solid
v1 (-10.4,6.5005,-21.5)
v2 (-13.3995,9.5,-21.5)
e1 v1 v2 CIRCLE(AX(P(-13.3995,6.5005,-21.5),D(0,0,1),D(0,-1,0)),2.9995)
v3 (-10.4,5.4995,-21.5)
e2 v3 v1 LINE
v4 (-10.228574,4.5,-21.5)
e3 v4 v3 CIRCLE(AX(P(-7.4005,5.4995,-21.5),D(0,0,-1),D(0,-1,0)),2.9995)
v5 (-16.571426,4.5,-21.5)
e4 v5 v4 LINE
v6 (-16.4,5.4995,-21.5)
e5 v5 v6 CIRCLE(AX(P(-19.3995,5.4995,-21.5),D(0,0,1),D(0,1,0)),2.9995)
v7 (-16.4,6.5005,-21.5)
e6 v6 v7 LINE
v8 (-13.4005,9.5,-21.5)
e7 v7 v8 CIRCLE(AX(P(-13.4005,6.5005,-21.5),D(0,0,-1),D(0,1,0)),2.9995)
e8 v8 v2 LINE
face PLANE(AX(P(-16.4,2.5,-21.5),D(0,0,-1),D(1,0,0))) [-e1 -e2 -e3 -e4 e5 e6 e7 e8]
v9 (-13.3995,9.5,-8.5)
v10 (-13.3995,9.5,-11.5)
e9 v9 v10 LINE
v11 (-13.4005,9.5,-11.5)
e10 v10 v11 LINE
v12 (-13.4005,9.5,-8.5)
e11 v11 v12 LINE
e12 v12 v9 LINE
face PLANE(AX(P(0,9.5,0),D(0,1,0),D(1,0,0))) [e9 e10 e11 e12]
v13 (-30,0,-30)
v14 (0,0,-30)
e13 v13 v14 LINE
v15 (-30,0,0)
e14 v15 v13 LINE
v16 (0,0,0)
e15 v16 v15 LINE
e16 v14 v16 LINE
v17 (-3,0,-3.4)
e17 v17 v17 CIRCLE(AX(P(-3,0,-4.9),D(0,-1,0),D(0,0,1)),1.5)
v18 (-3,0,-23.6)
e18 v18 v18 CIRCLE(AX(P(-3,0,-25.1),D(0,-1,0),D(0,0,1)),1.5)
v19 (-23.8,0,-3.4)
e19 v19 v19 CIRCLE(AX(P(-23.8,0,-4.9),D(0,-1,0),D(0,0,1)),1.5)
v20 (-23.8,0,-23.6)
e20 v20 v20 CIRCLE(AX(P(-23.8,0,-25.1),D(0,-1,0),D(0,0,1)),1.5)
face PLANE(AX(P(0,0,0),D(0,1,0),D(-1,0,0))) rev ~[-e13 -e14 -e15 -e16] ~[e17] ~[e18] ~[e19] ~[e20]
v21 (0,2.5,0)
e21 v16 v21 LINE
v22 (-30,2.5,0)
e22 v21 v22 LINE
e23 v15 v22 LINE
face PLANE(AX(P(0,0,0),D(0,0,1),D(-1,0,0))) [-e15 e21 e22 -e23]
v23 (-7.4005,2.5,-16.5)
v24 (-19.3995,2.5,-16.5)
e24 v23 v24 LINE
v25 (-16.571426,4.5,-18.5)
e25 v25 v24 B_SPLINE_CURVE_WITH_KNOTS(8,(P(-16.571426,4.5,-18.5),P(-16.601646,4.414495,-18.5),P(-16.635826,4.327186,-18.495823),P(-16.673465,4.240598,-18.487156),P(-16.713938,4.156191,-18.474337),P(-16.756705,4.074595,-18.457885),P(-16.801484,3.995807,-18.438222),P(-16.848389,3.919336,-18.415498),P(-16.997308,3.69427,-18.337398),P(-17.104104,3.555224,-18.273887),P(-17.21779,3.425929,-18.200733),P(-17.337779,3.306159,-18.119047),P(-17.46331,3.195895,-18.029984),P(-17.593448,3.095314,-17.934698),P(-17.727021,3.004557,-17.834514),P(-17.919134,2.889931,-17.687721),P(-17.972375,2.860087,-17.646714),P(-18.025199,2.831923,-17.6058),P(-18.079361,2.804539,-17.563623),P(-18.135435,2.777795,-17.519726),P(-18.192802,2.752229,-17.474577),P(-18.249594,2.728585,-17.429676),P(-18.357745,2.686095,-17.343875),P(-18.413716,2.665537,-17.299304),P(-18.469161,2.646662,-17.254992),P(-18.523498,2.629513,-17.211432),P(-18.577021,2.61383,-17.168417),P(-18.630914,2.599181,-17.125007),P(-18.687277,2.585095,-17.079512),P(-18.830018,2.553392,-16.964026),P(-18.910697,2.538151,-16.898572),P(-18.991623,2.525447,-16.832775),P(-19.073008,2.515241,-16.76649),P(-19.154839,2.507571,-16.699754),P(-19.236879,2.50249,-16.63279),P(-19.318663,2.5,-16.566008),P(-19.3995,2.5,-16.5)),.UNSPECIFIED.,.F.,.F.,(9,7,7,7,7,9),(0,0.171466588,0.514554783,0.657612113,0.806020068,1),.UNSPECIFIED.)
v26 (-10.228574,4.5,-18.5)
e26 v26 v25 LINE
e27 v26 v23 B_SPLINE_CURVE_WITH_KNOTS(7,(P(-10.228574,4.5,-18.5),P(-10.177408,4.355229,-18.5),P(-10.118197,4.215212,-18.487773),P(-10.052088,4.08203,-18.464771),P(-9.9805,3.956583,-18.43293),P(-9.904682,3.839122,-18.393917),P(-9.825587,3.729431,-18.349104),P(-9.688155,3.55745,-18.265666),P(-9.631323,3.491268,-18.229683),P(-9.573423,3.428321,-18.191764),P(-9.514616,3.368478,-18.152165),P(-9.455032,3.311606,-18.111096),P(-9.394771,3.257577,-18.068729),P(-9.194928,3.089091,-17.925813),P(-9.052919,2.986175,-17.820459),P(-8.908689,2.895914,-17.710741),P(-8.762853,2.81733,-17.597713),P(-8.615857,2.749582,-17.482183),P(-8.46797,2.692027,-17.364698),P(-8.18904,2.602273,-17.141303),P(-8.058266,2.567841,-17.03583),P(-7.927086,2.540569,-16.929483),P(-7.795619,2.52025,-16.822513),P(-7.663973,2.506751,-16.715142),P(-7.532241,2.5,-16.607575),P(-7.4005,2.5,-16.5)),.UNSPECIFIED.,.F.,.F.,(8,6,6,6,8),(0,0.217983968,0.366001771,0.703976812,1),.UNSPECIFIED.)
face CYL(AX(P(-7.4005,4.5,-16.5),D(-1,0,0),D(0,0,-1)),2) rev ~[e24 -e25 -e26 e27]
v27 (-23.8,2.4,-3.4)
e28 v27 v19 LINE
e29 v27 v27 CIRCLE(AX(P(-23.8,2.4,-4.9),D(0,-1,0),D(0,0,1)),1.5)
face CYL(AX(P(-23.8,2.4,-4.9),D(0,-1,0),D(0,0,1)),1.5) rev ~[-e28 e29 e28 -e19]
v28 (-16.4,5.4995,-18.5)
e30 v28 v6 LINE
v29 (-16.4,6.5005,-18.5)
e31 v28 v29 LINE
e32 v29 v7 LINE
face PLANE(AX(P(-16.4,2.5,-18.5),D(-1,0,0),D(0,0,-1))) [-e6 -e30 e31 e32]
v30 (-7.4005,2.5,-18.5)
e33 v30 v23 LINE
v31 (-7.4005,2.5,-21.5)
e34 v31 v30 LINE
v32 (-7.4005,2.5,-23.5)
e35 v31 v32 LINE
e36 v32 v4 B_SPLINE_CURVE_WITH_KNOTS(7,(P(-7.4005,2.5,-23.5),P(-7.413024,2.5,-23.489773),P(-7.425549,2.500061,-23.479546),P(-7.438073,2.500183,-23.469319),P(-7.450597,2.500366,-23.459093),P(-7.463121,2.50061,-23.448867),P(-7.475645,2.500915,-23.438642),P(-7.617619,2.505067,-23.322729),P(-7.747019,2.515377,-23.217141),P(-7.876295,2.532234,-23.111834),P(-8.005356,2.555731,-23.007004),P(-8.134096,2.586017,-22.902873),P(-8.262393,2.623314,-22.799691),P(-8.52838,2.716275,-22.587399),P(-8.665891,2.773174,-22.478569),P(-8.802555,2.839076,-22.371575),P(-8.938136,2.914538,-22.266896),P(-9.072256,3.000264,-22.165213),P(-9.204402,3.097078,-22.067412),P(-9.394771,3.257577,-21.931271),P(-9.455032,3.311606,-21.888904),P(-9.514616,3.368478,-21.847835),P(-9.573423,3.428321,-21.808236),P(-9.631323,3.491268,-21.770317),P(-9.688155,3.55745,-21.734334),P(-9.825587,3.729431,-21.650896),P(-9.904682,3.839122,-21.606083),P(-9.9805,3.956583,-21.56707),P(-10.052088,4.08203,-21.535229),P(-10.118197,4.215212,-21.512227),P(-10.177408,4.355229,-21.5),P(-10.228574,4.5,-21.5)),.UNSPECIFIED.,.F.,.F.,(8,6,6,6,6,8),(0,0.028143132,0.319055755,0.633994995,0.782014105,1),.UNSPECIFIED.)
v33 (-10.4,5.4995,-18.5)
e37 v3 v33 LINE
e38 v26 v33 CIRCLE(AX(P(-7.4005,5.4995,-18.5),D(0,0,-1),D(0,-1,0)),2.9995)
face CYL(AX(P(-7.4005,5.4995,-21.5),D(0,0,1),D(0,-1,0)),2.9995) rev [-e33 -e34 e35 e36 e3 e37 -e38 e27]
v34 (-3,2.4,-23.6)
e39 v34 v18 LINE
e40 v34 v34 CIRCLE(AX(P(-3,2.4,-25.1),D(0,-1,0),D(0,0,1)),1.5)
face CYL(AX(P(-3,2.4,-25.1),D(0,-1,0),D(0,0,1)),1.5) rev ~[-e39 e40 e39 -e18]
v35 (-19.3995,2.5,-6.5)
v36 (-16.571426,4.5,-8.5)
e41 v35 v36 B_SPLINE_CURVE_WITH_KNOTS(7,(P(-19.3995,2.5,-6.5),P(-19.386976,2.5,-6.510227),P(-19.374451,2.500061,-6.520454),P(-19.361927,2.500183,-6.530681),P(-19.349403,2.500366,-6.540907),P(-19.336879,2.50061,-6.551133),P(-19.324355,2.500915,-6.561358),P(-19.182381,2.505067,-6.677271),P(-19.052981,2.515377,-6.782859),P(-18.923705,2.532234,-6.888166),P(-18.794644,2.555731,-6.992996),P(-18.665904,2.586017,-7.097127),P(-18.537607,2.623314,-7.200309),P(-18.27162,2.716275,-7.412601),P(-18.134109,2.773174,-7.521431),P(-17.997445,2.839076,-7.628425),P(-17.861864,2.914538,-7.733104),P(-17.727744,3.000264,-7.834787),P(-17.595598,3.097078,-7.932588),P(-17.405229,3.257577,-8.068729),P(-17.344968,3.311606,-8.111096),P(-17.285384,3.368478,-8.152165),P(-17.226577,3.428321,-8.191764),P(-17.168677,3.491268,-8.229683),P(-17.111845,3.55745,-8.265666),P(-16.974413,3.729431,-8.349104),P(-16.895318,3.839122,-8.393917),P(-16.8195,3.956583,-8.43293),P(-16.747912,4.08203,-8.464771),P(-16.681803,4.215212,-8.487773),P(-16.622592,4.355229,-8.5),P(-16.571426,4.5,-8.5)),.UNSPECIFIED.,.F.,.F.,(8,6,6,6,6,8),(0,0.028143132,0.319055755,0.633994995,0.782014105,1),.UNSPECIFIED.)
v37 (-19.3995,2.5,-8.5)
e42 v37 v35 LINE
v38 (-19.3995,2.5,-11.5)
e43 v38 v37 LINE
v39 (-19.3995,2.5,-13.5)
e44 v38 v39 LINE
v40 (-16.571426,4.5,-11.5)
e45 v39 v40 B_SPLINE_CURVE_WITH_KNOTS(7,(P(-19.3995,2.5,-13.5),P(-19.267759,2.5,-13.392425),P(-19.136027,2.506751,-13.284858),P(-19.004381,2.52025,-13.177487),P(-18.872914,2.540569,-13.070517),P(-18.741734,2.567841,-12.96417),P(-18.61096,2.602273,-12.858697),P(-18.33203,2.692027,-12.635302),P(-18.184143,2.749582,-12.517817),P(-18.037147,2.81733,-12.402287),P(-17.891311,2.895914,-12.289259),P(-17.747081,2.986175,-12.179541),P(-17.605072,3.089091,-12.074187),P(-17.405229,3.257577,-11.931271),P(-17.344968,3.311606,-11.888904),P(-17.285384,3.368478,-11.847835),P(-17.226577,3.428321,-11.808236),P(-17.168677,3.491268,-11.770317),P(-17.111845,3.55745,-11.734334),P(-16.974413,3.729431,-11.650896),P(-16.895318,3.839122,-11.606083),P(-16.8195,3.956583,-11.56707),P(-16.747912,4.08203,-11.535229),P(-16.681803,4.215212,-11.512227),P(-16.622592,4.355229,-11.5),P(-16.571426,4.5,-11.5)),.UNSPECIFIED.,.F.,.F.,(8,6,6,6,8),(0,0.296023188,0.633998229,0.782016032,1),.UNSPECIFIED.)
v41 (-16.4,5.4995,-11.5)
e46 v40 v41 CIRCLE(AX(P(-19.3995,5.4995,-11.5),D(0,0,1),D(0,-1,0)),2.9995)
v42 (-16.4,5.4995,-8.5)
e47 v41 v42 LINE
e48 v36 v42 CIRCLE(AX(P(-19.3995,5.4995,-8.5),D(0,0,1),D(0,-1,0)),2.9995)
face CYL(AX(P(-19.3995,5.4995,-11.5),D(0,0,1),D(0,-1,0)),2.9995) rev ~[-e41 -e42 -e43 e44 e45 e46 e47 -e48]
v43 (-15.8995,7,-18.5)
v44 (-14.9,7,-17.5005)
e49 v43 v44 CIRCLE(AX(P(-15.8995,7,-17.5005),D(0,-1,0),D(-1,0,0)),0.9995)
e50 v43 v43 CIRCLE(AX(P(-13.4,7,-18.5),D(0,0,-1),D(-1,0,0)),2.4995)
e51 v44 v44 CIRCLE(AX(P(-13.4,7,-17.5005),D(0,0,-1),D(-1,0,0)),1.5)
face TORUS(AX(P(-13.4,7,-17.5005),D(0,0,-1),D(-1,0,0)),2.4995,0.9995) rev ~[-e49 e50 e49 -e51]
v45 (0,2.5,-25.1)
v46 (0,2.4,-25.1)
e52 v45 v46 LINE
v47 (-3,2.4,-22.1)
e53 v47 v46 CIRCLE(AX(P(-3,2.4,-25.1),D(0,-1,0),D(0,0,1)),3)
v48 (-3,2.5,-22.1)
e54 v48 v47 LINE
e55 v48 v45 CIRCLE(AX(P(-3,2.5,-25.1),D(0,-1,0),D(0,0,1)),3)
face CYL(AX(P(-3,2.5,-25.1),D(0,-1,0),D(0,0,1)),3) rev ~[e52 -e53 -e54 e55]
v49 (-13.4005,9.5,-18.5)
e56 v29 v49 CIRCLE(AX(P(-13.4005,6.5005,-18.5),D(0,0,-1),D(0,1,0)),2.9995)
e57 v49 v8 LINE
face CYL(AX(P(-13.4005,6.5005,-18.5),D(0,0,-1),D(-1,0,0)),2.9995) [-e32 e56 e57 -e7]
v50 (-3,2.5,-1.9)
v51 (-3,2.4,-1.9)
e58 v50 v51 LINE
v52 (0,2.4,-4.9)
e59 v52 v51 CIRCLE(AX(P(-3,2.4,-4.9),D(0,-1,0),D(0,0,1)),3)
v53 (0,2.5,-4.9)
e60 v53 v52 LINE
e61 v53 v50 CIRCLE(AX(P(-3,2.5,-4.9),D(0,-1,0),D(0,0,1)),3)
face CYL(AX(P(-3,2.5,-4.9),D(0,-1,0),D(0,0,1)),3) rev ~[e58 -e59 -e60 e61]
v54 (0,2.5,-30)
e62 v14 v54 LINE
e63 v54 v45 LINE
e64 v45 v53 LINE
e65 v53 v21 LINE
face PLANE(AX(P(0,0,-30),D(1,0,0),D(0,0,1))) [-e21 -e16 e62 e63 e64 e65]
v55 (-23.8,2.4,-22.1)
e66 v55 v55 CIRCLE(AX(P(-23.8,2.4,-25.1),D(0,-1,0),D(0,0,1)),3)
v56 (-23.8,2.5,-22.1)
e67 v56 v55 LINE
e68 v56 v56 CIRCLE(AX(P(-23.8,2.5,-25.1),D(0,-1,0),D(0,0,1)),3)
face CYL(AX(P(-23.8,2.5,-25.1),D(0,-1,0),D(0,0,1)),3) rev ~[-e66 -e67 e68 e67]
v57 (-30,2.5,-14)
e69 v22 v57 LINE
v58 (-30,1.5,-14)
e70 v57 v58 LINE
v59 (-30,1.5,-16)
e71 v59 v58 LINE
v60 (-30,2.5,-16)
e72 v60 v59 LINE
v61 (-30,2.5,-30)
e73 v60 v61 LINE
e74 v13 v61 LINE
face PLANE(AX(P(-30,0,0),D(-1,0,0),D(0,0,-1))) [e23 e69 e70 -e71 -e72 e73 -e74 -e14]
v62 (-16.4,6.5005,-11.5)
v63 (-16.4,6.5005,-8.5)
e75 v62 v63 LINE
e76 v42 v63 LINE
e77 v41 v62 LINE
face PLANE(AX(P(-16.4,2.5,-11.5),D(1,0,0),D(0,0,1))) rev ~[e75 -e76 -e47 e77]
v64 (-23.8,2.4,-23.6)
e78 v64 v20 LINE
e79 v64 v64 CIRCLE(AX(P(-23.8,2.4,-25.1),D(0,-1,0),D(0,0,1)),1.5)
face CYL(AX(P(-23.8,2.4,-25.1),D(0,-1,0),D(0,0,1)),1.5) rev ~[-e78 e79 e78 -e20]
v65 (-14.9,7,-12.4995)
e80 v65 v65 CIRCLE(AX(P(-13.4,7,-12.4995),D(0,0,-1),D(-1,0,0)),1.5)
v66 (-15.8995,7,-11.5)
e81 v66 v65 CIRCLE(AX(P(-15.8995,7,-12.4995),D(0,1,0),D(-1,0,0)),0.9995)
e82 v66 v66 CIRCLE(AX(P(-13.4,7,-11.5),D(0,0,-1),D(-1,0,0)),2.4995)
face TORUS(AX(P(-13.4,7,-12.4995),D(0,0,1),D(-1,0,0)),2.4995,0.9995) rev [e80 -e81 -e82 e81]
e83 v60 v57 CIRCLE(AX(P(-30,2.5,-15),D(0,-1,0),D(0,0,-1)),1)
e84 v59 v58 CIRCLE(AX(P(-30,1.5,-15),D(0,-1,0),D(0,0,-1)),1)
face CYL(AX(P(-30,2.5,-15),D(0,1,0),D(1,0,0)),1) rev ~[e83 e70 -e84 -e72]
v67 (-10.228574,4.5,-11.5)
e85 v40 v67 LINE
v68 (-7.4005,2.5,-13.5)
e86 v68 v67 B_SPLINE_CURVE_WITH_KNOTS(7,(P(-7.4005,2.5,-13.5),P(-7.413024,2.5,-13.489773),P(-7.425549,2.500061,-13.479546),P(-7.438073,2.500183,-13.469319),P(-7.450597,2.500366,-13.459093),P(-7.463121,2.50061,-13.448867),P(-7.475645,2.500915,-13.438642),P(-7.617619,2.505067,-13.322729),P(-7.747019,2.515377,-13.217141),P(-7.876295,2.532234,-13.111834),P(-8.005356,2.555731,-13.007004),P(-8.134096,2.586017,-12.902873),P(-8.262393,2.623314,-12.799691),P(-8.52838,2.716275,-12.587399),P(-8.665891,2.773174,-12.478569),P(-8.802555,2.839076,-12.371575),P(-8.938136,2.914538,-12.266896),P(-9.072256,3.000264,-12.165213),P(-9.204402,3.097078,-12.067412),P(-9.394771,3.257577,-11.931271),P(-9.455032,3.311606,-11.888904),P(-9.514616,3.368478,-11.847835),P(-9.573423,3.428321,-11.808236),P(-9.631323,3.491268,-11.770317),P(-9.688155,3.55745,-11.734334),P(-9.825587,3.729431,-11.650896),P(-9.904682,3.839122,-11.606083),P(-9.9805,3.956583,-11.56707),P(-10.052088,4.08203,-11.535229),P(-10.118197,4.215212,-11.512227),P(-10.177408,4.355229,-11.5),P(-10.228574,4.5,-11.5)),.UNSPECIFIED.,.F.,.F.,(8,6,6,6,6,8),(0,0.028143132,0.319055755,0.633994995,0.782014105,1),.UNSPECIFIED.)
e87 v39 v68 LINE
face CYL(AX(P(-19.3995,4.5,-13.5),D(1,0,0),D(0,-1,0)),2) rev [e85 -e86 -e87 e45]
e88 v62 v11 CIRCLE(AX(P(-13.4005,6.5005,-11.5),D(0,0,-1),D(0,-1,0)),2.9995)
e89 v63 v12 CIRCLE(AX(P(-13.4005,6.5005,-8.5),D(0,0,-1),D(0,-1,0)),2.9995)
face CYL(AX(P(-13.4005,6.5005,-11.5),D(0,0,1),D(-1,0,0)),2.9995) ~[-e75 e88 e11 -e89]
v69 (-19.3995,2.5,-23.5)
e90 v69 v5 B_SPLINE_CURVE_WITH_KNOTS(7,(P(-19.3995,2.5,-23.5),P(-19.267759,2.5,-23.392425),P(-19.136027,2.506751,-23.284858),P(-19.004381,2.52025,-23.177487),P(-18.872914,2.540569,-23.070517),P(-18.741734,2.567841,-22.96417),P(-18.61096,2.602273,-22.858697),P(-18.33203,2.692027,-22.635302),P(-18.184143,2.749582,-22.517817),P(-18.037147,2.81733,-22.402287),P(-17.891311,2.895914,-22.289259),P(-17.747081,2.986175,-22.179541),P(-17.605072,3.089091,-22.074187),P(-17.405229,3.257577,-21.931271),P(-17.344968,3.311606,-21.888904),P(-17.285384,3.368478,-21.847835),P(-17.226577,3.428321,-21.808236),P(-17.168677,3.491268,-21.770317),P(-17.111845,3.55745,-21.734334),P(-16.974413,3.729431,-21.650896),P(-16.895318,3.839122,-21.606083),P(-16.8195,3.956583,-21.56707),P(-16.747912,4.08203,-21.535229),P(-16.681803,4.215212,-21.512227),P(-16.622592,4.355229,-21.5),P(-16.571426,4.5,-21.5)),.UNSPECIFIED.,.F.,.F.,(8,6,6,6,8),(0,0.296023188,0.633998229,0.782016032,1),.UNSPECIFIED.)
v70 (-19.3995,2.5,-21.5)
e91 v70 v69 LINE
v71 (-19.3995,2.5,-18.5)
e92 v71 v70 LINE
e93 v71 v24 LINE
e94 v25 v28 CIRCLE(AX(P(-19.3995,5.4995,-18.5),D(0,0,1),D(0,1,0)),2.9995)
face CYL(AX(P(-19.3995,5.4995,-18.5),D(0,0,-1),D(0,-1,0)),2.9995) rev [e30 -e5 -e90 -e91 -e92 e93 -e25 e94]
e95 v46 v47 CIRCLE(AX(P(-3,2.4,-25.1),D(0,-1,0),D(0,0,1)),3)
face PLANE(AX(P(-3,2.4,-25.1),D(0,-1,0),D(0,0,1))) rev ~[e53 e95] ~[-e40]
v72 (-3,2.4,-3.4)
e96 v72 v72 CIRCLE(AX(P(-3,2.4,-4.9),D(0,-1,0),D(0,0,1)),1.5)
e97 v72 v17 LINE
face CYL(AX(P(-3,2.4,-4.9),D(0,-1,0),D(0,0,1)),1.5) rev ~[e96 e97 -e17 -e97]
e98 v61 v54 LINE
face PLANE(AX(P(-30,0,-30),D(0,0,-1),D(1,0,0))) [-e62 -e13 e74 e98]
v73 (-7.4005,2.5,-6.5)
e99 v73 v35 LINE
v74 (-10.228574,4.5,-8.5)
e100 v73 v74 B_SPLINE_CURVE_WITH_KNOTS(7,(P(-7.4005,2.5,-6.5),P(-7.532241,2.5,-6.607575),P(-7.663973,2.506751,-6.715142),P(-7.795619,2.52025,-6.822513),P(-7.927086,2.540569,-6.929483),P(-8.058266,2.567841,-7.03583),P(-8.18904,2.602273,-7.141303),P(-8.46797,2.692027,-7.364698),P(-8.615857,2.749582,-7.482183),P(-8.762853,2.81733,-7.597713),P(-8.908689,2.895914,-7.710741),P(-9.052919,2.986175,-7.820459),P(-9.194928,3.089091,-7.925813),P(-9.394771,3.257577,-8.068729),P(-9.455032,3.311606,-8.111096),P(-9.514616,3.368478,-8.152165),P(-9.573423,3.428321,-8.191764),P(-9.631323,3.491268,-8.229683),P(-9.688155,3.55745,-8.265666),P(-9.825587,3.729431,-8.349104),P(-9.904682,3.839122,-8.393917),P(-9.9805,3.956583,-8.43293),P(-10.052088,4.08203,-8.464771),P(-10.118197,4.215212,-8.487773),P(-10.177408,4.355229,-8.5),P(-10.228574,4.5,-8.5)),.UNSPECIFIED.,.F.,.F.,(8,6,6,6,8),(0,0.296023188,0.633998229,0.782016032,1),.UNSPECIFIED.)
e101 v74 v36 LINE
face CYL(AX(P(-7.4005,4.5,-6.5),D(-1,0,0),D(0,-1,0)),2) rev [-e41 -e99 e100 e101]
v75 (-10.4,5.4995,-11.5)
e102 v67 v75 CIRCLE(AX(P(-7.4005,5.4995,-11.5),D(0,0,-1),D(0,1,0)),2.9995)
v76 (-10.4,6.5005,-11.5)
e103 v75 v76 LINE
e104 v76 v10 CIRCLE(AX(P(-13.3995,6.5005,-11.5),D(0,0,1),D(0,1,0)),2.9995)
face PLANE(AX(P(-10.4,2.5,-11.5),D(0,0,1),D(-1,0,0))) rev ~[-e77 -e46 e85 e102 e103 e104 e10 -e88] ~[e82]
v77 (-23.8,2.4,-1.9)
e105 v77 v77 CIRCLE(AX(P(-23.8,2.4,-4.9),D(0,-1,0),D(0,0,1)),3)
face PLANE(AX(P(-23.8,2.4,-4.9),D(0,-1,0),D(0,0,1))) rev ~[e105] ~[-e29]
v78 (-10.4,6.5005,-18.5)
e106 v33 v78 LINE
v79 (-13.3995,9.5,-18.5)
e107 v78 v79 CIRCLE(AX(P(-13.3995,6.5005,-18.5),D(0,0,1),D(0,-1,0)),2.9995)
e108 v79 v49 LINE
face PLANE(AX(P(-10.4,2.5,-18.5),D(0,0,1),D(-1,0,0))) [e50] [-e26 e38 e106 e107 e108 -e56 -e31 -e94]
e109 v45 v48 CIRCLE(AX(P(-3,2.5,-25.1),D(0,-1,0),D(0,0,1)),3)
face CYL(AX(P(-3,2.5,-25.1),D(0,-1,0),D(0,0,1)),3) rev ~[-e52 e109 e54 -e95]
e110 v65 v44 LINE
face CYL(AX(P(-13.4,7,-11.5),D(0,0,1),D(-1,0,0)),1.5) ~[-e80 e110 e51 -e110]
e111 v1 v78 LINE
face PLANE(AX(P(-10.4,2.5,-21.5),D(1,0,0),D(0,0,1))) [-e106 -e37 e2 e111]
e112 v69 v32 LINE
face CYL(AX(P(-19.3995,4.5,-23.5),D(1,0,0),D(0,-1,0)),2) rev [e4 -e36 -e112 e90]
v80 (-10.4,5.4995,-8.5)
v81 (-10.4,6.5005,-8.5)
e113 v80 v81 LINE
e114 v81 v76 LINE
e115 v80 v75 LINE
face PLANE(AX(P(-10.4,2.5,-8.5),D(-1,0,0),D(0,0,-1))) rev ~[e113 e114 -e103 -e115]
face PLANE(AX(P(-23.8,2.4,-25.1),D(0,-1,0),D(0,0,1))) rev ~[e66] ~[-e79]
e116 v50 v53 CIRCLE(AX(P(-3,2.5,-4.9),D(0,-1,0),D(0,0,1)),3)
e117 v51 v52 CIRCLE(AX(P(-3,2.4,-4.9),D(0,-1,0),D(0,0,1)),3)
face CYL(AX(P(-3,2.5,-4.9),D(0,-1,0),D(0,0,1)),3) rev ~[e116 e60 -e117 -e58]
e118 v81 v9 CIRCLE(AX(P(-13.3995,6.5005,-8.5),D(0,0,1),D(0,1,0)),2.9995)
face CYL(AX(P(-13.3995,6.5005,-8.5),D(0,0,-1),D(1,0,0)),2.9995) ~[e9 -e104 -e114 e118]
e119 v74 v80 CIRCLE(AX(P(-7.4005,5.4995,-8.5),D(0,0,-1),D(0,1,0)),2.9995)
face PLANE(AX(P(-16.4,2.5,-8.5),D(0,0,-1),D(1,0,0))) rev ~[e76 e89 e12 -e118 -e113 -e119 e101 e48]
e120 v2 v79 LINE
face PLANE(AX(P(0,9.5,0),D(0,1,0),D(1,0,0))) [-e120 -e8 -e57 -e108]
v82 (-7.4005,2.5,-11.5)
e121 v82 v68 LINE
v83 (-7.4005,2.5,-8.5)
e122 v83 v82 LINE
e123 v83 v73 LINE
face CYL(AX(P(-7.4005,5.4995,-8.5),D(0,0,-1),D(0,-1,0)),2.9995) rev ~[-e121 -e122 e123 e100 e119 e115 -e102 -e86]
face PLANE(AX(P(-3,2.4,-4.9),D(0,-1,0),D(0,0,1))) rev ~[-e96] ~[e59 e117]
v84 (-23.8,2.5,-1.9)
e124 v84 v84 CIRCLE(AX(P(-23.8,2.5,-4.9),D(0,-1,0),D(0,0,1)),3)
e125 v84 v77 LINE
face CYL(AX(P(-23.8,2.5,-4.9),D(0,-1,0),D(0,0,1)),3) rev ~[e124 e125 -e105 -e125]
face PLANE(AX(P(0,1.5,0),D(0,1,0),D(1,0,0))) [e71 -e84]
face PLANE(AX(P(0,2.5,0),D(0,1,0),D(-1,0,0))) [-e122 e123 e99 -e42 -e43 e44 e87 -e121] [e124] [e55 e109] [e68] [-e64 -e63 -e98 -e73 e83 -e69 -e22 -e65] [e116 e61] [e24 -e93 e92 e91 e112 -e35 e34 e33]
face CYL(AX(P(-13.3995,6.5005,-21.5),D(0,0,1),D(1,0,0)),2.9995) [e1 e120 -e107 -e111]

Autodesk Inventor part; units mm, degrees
ref_plane "YZ Plane" through (0, 0, 0) normal (1, 0, 0) x (0, 1, 0)
ref_plane "XZ Plane" through (0, 0, 0) normal (0, 1, 0) x (-1, 0, 0)
ref_plane "XY Plane" through (0, 0, 0) normal (0, 0, 1) x (1, 0, 0)
sketch "Sketch1" plane through (0, 0, 0) normal (0, 1, 0) x (-1, 0, 0)
  line L0 (0, 0) -> (30, 0)
  line L1 (30, 0) -> (30, -30)
  line L2 (30, -30) -> (0, -30)
  line L3 (0, -30) -> (0, 0)
  dimension "d0" = 30
  dimension "d1" = 30
extrude "Extrusion1" add sketch "Sketch1" along normal blind 2.5
sketch "Sketch2" plane through (0, 2.5, 0) normal (0, 1, 0) x (1, 0, 0)
  line L0 (-30, 0) -> (0, 0) projected
  line L1 (0, 0) -> (0, 30) projected
  line L2 (0, 30) -> (-30, 30) projected
  point P0 (-3, 4.9)
  point P1 (-3, 25.1)
  point P2 (-23.8, 25.1)
  point P3 (-23.8, 4.9)
  dimension "d14" = 20.2
  dimension "d15" = 20.8
  dimension "d16" = 4.9
  dimension "d17" = 20.2
  dimension "d18" = 3
  dimension "d19" = 20.8
  dimension "d20" = 4.9
  dimension "d21" = 4.9
hole "Hole1" at (-3, 2.5, -4.9) at (-3, 2.5, -25.1) at (-23.8, 2.5, -25.1) at (-23.8, 2.5, -4.9) direction (0, -1, 0) diameter 3 end through all counterbore diameter 6 counterbore depth 0.1
sketch "Sketch3" plane through (0, 2.5, 0) normal (0, 1, 0) x (1, 0, 0)
  line L0 (-30, 30) -> (-30, 0) projected
  circle A0 centre (-30, 15) radius 1
  point P0 (0, 0)
  point P1 (-30, 16)
  point P2 (-30, 14)
  dimension "d11" = 2
extrude "Extrusion2" cut sketch "Sketch3" against normal blind 1 contours A0 L0 picked at (-29.6652, 15.1995)
sketch "Sketch4" plane through (0, 2.5, 0) normal (0, 1, 0) x (1, 0, 0)
  line L0 (-10.4, 11.5) -> (-16.4, 11.5)
  line L1 (-16.4, 11.5) -> (-16.4, 8.5)
  line L2 (-16.4, 8.5) -> (-10.4, 8.5)
  line L3 (-10.4, 8.5) -> (-10.4, 11.5)
  line L4 (-30, 0) -> (0, 0) projected
  line L5 (0, 0) -> (0, 30) projected
  line L6 (-10.4, 18.5) -> (-16.4, 18.5)
  line L7 (-16.4, 18.5) -> (-16.4, 21.5)
  line L8 (-16.4, 21.5) -> (-10.4, 21.5)
  line L9 (-10.4, 21.5) -> (-10.4, 18.5)
  line L10 (-30, 30) -> (-30, 16) projected
  dimension "d22" = 6
  dimension "d23" = 3
  dimension "d24" = 8.5
  dimension "d25" = 10.4
  dimension "d26" = 3
  dimension "d27" = 7
  dimension "d28" = 13.6
  dimension "d29" = 10.4
extrude "Extrusion3" add sketch "Sketch4" along normal blind 7
fillet "Fillet1" radius 3 8 edges at (-10.4, 9.5, -10) (-16.4, 9.5, -10) (-16.4, 9.5, -20) (-10.4, 9.5, -20) (-10.4, 2.5, -20) (-10.4, 2.5, -10) (-16.4, 2.5, -20) (-16.4, 2.5, -10)
sketch "Sketch5" plane through (-7.4, 2.5, -11.5) normal (0, 0, -1) x (-1, 0, 0)
  circle A0 centre (6, 4.5) radius 1.5
  line L0 (12, 0) -> (0, 0) projected
  line L1 (3, 3) -> (3, 4) projected
  point P0 (-7.4, -2.5)
  dimension "d33" = 3
  dimension "d34" = 4.5
  dimension "d35" = 3
extrude "Extrusion4" add sketch "Sketch5" along normal up to surface (7 mm away)
fillet "Fillet2" radius 1 2 edges at (-11.9, 7, -11.5) (-11.9, 7, -18.5)
fillet "Fillet3" radius 2 4 edges at (-13.4, 2.5, -11.5) (-13.4, 2.5, -18.5) (-13.4, 2.5, -8.5) (-13.4, 2.5, -21.5)
sketch "Sketch6" plane through (0, 2.5, 0) normal (0, 1, 0) x (1, 0, 0)
  point P0 (0, 0)
properties part number "Upper mount"
